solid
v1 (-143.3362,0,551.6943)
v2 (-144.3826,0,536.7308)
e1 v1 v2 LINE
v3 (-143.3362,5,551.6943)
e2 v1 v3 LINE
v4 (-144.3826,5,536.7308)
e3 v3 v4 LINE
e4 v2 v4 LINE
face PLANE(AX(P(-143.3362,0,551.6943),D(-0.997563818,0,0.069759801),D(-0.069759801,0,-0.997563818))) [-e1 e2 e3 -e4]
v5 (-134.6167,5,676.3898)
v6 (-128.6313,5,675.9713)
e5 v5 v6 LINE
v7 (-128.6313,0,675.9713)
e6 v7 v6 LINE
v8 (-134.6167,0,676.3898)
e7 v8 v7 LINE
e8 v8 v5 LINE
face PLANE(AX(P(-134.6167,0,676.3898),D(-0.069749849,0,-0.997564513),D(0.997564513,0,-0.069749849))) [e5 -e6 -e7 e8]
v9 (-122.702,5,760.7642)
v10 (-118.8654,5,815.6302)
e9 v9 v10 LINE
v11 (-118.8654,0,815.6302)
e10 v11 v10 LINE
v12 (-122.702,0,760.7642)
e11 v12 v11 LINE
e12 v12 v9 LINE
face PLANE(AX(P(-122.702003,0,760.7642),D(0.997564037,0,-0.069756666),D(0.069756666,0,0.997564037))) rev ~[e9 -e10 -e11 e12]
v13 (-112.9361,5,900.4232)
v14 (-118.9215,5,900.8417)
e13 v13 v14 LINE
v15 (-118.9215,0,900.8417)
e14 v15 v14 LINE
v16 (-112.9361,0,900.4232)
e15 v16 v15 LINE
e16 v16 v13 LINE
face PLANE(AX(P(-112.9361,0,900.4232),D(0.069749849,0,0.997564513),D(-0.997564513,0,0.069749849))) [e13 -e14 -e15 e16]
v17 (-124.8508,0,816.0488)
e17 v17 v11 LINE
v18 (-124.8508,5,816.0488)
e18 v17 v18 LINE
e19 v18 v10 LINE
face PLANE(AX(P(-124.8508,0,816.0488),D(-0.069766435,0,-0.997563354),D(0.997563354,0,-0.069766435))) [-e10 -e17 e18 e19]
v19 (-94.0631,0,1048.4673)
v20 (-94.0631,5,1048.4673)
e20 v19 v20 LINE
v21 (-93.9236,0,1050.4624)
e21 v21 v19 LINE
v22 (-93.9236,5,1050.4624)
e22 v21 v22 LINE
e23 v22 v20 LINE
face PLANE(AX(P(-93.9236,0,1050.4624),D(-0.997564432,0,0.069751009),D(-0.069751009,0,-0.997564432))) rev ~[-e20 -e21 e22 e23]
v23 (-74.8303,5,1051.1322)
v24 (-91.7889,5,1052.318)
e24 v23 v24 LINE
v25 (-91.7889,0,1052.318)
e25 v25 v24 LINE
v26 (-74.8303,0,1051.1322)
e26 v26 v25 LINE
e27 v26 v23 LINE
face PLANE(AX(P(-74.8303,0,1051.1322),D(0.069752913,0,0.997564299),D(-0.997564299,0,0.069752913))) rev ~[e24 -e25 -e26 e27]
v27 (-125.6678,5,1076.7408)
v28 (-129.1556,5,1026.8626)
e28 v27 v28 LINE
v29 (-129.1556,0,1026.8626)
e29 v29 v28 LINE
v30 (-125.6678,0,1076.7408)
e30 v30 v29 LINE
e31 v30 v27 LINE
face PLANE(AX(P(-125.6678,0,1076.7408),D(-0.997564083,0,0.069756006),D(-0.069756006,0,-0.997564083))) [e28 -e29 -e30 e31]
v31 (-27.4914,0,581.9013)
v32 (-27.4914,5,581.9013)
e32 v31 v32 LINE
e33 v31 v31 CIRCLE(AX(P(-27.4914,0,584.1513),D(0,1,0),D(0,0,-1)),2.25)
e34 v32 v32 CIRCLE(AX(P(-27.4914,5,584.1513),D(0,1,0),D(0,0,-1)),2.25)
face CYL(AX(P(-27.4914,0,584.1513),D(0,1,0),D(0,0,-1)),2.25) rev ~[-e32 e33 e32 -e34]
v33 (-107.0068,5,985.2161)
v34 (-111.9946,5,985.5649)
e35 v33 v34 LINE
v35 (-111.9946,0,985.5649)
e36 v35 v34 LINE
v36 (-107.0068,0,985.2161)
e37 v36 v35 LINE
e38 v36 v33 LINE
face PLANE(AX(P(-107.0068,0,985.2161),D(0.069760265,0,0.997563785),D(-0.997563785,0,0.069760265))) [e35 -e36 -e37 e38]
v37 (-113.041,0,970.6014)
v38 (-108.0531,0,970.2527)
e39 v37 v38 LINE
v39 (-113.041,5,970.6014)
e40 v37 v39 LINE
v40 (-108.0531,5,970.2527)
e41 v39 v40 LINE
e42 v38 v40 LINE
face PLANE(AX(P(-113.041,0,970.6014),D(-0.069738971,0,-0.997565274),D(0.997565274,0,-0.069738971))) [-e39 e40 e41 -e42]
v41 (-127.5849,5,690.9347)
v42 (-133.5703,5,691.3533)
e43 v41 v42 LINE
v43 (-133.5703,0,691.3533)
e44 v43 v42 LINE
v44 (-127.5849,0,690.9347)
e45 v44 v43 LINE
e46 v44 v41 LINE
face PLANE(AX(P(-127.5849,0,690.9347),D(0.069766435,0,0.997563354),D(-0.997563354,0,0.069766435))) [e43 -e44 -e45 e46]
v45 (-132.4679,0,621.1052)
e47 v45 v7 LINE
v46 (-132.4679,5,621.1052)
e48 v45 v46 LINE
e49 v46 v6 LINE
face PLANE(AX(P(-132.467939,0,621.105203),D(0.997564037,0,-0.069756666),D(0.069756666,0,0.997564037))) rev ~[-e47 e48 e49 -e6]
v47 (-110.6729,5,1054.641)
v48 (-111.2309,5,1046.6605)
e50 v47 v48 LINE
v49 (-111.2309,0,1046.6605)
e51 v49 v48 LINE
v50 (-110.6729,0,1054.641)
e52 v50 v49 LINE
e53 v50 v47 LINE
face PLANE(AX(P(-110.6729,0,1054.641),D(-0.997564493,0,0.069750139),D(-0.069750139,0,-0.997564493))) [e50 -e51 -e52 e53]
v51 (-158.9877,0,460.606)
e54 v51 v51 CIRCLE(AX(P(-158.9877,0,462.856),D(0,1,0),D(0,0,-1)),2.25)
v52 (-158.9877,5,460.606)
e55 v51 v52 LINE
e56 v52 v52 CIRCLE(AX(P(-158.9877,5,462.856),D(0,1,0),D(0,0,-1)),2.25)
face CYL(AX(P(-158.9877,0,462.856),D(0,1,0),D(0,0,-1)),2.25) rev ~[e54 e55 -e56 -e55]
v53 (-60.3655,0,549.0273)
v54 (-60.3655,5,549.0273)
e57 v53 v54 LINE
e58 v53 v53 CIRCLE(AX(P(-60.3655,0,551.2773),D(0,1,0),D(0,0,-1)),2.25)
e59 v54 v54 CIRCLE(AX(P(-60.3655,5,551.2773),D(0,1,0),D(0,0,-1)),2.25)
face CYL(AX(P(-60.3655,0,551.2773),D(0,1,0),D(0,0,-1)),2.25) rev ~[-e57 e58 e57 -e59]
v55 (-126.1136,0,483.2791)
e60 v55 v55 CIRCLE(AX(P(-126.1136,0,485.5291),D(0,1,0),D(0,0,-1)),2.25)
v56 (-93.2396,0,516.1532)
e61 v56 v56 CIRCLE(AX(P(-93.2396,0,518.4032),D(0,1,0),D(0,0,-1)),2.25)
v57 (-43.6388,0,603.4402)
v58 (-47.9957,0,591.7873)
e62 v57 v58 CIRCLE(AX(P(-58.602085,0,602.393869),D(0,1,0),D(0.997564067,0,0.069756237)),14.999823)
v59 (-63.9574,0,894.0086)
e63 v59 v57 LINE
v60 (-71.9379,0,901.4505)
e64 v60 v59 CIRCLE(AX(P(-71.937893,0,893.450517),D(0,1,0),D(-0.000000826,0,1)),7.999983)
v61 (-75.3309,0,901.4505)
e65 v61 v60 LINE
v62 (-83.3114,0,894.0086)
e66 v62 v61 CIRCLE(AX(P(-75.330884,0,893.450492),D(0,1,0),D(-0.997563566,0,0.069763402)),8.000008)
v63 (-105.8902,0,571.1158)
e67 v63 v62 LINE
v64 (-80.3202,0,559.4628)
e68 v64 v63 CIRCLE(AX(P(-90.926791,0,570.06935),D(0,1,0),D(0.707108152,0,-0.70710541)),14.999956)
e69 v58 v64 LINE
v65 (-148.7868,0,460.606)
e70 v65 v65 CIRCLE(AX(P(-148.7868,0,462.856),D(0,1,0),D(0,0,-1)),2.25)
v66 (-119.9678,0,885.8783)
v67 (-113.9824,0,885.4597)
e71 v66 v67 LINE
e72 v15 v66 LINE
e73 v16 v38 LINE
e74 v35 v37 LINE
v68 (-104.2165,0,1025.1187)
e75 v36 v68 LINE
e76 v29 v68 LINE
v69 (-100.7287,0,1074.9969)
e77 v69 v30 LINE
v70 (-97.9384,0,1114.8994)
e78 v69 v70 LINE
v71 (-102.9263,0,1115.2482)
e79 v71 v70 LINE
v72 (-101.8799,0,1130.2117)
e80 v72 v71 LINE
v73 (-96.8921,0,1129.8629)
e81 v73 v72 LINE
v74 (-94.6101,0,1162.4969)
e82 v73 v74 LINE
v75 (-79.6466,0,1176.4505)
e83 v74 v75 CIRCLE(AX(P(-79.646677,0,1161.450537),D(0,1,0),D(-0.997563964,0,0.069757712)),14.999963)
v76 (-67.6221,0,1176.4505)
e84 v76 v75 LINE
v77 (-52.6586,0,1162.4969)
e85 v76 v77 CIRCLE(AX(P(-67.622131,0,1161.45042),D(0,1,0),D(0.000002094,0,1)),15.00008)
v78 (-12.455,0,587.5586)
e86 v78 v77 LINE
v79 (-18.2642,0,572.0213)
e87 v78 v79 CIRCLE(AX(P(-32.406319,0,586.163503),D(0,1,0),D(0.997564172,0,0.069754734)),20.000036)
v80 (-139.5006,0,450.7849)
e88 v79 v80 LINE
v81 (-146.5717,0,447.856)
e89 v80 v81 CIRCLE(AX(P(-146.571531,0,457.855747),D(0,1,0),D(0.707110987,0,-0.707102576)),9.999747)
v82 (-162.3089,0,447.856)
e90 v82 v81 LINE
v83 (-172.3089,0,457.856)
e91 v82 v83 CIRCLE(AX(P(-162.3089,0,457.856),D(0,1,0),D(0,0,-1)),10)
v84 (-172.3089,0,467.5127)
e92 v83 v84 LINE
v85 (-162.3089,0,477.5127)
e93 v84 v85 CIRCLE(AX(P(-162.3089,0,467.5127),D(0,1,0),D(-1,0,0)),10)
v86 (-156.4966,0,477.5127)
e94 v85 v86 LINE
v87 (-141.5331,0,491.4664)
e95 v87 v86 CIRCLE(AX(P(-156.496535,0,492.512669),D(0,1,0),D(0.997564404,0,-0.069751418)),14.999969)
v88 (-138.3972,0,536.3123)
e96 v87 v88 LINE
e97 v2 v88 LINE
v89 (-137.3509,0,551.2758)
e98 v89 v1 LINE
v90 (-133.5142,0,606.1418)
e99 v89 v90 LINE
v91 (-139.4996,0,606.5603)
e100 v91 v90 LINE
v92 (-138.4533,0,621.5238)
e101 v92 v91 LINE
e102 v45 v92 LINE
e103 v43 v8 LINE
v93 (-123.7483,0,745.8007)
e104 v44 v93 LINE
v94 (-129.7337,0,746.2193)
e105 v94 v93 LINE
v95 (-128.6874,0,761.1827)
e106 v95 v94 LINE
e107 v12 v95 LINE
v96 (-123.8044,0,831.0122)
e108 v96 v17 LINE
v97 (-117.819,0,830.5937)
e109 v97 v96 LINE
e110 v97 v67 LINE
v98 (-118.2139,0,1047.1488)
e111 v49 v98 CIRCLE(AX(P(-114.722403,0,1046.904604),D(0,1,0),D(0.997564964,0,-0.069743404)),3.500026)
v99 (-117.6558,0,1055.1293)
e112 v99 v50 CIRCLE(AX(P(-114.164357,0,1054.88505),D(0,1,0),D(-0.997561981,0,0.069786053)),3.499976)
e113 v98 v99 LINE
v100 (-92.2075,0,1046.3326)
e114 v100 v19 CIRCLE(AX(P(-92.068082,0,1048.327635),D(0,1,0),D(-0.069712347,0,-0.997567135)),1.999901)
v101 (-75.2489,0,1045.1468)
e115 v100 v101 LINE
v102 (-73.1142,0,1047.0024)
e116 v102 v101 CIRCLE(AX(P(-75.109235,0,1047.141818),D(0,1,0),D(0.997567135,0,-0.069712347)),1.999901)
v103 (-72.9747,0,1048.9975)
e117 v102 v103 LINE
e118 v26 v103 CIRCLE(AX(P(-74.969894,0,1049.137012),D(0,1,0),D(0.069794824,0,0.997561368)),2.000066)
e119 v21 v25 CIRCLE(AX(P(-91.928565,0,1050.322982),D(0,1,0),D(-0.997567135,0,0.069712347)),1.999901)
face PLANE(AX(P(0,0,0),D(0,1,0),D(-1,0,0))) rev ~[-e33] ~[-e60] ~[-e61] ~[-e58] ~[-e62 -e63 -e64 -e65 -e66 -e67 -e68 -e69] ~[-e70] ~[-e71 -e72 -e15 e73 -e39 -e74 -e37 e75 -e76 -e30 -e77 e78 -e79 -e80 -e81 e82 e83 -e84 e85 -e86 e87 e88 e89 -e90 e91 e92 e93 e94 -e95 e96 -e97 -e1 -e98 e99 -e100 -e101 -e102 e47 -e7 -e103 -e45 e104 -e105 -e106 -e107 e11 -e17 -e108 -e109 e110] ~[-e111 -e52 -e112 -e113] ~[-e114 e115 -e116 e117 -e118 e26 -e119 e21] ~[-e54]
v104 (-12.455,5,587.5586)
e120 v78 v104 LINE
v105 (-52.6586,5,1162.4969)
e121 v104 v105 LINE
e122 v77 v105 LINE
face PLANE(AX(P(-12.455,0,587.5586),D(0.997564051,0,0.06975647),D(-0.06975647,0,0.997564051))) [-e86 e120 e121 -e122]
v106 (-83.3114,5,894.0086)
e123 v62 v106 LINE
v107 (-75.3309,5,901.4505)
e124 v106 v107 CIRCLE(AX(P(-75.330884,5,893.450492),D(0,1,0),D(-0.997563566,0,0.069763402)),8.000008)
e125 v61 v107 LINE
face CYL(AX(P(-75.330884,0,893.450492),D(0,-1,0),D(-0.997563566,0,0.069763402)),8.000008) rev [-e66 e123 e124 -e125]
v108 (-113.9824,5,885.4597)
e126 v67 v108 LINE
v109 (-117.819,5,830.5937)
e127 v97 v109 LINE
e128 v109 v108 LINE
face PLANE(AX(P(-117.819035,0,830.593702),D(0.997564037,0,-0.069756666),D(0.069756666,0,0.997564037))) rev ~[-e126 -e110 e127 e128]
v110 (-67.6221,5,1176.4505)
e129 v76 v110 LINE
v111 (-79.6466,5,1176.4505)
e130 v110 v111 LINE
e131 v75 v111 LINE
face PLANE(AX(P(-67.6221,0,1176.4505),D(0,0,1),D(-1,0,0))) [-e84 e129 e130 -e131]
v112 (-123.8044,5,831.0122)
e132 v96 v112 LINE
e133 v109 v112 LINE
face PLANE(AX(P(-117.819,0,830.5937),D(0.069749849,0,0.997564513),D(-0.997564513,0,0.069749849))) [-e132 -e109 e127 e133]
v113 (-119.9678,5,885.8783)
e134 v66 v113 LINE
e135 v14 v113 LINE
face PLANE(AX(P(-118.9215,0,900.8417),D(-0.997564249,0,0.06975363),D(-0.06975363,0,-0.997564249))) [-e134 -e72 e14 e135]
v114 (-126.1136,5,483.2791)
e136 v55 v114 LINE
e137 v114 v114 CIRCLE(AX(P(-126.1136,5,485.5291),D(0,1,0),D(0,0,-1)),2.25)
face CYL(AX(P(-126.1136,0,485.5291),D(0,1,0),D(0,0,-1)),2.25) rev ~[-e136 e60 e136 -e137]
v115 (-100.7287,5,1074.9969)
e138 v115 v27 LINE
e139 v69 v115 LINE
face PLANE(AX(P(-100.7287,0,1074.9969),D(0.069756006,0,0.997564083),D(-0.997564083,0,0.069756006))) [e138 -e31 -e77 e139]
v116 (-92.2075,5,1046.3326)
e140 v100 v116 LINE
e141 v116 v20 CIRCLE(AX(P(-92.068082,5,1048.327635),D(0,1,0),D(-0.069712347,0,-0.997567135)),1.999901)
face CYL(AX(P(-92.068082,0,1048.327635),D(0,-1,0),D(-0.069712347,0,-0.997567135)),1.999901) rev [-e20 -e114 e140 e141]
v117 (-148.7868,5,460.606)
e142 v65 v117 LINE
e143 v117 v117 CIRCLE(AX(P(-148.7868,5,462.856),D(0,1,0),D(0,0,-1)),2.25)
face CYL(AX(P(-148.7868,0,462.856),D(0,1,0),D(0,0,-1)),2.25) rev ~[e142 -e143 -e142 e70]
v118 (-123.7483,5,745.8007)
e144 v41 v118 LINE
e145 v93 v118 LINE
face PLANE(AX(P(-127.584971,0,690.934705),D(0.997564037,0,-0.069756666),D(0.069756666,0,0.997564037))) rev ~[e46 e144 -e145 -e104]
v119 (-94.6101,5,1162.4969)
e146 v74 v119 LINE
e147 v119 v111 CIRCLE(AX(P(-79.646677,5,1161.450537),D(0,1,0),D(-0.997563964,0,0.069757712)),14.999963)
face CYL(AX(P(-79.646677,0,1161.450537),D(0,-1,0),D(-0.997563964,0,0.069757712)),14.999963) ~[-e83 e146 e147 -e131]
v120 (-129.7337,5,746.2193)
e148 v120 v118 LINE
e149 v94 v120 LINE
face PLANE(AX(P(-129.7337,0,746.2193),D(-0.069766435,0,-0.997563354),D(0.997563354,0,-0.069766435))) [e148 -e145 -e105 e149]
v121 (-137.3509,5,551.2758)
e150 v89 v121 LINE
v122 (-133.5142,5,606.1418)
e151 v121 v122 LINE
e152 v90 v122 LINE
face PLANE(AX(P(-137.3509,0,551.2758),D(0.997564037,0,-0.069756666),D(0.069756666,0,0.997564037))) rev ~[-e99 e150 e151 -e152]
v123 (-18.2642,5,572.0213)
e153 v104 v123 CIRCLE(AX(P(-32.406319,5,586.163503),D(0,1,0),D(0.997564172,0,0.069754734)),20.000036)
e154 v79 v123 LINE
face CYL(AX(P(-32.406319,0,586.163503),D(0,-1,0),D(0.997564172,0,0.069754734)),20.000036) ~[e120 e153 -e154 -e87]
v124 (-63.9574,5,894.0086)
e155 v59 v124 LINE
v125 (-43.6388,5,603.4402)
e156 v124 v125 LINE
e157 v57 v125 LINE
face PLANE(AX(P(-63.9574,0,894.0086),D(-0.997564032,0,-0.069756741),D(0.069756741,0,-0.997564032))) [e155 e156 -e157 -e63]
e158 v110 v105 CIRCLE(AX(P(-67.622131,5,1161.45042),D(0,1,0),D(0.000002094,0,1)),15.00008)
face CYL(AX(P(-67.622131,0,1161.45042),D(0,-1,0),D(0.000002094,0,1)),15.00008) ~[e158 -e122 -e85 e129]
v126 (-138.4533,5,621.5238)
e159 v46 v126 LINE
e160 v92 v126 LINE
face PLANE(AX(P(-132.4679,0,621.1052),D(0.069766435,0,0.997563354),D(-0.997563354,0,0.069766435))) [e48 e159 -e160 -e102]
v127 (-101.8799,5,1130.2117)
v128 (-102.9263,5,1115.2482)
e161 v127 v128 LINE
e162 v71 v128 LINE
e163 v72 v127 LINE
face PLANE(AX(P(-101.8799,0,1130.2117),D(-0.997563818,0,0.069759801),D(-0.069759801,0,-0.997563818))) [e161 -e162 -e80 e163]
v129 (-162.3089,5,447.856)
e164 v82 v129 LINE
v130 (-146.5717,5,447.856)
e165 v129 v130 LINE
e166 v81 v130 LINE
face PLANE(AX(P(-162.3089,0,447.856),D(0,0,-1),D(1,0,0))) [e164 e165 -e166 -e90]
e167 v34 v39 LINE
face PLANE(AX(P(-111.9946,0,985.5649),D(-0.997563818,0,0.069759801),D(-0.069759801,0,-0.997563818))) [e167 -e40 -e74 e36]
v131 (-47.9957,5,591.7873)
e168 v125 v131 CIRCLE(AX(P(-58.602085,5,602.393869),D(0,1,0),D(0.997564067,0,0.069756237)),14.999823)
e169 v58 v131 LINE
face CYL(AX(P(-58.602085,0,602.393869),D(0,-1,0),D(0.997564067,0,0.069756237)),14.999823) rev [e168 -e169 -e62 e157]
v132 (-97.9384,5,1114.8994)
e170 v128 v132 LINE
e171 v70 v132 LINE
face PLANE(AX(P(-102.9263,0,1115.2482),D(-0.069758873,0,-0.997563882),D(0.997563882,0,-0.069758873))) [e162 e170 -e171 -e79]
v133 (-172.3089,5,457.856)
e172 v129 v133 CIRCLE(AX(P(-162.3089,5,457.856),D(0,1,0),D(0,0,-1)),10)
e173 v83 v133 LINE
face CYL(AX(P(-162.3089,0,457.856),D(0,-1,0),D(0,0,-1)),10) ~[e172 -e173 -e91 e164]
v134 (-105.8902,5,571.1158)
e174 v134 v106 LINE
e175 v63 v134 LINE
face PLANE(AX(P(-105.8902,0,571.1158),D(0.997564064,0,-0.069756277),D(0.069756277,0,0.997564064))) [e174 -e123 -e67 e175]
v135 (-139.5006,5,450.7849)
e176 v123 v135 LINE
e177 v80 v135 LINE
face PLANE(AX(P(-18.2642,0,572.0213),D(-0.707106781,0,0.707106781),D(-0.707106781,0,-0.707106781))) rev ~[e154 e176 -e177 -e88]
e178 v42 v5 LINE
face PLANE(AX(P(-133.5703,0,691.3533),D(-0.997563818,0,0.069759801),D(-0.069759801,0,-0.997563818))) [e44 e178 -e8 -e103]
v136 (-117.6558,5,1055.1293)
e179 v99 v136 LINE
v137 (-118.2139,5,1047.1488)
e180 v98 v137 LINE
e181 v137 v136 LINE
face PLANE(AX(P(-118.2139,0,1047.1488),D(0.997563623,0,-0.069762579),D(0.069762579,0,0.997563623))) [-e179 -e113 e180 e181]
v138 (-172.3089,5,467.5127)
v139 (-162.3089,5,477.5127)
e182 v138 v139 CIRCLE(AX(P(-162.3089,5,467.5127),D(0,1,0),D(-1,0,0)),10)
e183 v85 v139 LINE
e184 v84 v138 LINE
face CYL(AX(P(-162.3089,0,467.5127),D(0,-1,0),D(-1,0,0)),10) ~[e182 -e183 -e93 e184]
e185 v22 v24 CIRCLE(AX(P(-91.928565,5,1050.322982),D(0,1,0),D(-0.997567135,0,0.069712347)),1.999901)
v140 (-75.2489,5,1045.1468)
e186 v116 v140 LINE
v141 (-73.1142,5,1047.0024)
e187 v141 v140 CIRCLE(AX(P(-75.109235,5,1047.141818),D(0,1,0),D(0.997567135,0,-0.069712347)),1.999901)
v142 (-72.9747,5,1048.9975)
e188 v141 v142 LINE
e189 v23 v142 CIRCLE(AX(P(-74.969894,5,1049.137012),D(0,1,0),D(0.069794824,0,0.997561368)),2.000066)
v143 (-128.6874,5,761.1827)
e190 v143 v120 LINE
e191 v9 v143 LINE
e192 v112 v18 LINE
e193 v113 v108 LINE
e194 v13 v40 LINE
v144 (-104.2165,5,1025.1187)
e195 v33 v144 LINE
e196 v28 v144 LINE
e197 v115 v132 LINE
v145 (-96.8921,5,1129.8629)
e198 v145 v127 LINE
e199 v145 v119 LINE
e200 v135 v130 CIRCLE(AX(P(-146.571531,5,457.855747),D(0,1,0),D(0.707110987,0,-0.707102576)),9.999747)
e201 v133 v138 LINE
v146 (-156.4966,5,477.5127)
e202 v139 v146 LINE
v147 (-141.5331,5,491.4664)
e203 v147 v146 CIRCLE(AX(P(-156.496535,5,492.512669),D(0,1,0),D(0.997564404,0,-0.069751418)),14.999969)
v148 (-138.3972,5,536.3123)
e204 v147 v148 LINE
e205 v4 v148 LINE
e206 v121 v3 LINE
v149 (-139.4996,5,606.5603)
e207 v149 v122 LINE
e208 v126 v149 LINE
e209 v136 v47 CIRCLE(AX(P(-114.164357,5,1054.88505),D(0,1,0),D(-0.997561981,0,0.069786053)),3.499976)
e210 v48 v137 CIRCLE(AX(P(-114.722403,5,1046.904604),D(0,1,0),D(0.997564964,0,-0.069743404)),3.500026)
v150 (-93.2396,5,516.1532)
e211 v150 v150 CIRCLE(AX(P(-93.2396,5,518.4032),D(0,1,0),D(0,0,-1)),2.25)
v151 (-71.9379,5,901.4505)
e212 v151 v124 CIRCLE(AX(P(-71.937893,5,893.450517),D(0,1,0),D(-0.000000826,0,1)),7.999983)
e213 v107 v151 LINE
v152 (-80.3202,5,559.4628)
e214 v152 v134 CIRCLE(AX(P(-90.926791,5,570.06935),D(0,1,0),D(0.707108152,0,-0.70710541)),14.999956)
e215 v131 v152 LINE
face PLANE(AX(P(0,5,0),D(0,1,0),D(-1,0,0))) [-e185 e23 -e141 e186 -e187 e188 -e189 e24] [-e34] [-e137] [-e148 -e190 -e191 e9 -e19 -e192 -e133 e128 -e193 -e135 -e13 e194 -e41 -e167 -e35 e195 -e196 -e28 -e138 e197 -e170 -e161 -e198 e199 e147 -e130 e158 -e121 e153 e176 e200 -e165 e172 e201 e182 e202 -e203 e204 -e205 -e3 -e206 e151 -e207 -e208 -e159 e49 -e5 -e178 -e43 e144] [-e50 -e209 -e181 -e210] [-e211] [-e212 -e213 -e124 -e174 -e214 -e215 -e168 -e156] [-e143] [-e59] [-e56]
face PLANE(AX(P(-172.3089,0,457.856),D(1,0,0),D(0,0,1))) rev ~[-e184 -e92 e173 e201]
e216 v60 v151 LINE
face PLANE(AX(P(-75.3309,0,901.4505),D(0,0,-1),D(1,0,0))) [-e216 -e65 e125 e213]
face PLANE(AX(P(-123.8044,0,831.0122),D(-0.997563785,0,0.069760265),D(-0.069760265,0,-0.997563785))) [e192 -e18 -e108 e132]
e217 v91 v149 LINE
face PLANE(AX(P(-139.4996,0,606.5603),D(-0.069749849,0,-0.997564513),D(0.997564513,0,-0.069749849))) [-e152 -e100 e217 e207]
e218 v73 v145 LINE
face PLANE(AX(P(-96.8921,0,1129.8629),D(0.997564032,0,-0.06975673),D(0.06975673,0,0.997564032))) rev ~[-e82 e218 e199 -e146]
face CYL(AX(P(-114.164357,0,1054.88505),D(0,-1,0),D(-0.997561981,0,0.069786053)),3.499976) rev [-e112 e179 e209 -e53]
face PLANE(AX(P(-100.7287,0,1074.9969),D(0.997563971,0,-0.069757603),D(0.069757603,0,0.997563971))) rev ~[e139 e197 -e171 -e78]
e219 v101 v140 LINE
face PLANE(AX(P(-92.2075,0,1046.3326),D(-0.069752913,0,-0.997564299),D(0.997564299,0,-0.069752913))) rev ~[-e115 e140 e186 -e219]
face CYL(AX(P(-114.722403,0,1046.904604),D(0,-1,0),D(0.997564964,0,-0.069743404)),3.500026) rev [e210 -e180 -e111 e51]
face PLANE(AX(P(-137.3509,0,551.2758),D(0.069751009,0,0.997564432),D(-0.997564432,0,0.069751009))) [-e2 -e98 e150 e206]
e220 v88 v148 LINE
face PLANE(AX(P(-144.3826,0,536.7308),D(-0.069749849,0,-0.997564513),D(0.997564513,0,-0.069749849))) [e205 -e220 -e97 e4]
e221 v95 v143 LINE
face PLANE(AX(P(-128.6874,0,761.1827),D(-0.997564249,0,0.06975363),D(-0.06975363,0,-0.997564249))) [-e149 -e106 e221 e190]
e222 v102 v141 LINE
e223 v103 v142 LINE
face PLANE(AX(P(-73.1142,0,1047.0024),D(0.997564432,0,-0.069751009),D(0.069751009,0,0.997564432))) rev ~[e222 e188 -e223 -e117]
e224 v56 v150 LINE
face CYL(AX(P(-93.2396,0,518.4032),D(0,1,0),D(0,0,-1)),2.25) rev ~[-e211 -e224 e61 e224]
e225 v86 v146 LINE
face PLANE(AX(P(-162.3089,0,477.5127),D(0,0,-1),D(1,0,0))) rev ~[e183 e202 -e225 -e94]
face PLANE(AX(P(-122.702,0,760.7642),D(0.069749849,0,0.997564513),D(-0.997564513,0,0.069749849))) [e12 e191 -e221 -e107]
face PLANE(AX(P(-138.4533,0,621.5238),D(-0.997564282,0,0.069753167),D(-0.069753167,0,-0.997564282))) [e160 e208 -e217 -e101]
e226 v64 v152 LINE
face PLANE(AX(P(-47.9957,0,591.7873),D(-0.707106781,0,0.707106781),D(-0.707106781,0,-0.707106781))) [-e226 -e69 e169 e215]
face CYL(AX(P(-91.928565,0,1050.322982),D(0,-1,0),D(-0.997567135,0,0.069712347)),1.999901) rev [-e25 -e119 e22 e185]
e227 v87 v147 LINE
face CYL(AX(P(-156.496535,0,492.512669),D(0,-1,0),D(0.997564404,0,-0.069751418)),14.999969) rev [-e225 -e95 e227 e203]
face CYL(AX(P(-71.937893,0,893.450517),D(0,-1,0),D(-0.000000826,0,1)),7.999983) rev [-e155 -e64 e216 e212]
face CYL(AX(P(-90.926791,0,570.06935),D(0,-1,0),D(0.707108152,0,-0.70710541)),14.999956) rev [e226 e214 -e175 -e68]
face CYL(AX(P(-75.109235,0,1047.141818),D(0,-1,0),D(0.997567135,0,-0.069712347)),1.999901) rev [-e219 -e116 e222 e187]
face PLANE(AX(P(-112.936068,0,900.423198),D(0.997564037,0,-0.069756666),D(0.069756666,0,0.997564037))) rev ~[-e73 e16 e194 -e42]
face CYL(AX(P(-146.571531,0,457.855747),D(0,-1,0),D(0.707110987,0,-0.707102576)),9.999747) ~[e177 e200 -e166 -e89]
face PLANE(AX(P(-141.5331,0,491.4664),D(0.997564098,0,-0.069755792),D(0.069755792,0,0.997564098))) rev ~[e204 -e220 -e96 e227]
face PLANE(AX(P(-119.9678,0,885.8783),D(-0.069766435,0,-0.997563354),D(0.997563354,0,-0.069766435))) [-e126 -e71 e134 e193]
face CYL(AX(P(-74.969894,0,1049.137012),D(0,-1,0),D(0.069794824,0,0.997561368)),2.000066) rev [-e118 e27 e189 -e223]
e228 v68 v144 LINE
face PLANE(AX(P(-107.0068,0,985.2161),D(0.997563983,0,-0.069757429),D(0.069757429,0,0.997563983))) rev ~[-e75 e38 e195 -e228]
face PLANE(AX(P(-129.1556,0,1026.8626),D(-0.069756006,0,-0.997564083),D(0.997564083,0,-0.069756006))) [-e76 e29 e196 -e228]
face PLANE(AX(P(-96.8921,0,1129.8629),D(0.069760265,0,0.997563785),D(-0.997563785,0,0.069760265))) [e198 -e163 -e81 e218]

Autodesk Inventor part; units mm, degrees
ref_plane "YZ Plane" through (0, 0, 0) normal (1, 0, 0) x (0, 1, 0)
ref_plane "XZ Plane" through (0, 0, 0) normal (0, 1, 0) x (-1, 0, 0)
ref_plane "XY Plane" through (0, 0, 0) normal (0, 0, 1) x (1, 0, 0)
sketch "Szkic1" plane through (0, 0, 0) normal (0, 1, 0) x (-1, 0, 0)
  line L0 (-19, 622) -> (11, 622) construction
  line L1 (11, 622) -> (147, 486) construction
  line L2 (147, 486) -> (176.8016, 486) construction
  line L3 (176.8016, 486) -> (176.8016, 461) construction
  line L4 (-19, 622) -> (-19, 609.2855) construction
  line L5 (-19, 609.2855) -> (176.8016, 413.4839) construction
  line L6 (176.8016, 413.4839) -> (176.8016, 461) construction
  line L7 (176.8016, 486) -> (176.8016, 1189) construction
  line L8 (146.8016, 1189) -> (146.8016, 533) construction
  line L9 (246.8016, 495.9837) -> (246.8016, 1189) construction
  line L10 (-47, 922) -> (309, 922) construction
  line L11 (-42, 1147) -> (293, 1147) construction
  line L12 (12.455, 587.5586) -> (52.6586, 1162.4969)
  line L13 (67.6221, 1176.4505) -> (79.6466, 1176.4505)
  line L14 (147, 486) -> (147, 443.2855) construction
  line L15 (147, 486) -> (142.6159, 490.3841) construction
  line L16 (142.6159, 490.3841) -> (121.2587, 469.0268) construction
  line L17 (18.2642, 572.0213) -> (139.5006, 450.7849)
  line L18 (-99.7145, 690) -> (195.2855, 395) construction
  line L19 (172.3089, 417.9767) -> (172.3089, 447.856) construction
  line L20 (176.8016, 486) -> (315.5485, 347.2531) construction
  line L21 (141.5331, 491.4664) -> (138.3972, 536.3123)
  line L22 (162.3089, 477.5127) -> (156.4966, 477.5127)
  line L23 (162.3089, 447.856) -> (146.5717, 447.856)
  arc A0 (12.455, 587.5586) -> (18.2642, 572.0213) centre (32.4063, 586.1635) ccw
  line L24 (142.4296, 447.856) -> (172.3089, 417.9767) construction
  line L25 (172.3089, 457.856) -> (172.3089, 467.5127)
  arc A1 (141.5331, 491.4664) -> (156.4966, 477.5127) centre (156.4966, 492.5127) ccw
  arc A2 (172.3089, 467.5127) -> (162.3089, 477.5127) centre (162.3089, 467.5127) ccw
  arc A3 (162.3089, 447.856) -> (172.3089, 457.856) centre (162.3089, 457.856) ccw
  arc A4 (139.5006, 450.7849) -> (146.5717, 447.856) centre (146.5717, 457.856) ccw
  arc A5 (94.6101, 1162.4969) -> (79.6466, 1176.4505) centre (79.6466, 1161.4505) ccw
  arc A6 (67.6221, 1176.4505) -> (52.6586, 1162.4969) centre (67.6221, 1161.4505) ccw
  line L26 (141.5331, 491.4664) -> (144.7446, 445.541) construction
  line L27 (141.5331, 491.4664) -> (141.5331, 448.7524) construction
  line L28 (-28.6025, 640.2452) -> (163.5033, 448.1395) construction
  line L29 (47.7855, 542.5) -> (47.7855, 585.2145) construction
  line L30 (-4, 664.8499) -> (-4, 551.9978) construction
  line L31 (11, 622) -> (11, 579.2855) construction
  line L32 (11, 579.2855) -> (15.3841, 574.9015) construction
  line L33 (15.3841, 574.9015) -> (36.7413, 596.2587) construction
  line L34 (161.8016, 495.9837) -> (161.8016, 402) construction
  line L35 (104.2165, 1025.1187) -> (100.7287, 1074.9969) construction
  line L36 (100.7287, 1074.9969) -> (125.6678, 1076.7408)
  line L37 (125.6678, 1076.7408) -> (129.1556, 1026.8626)
  line L38 (129.1556, 1026.8626) -> (104.2165, 1025.1187)
  line L39 (100.7287, 1074.9969) -> (97.9384, 1114.8994)
  line L40 (104.2165, 1025.1187) -> (100.7287, 1074.9969) construction
  line L41 (73.1142, 1047.0024) -> (72.9747, 1048.9975)
  line L42 (74.8303, 1051.1322) -> (91.7889, 1052.318)
  line L43 (93.9236, 1050.4624) -> (94.0631, 1048.4673)
  line L44 (92.2075, 1046.3326) -> (75.2489, 1045.1468)
  line L45 (93.9933, 1049.4649) -> (102.4726, 1050.0578) construction
  line L46 (102.4726, 1050.0578) -> (114.4434, 1050.8949) construction
  arc A7 (74.8303, 1051.1322) -> (72.9747, 1048.9975) centre (74.9699, 1049.137) ccw
  arc A8 (73.1142, 1047.0024) -> (75.2489, 1045.1468) centre (75.1094, 1047.1419) ccw
  arc A9 (93.9236, 1050.4624) -> (91.7889, 1052.318) centre (91.9284, 1050.3229) ccw
  arc A10 (92.2075, 1046.3326) -> (94.0631, 1048.4673) centre (92.068, 1048.3278) ccw
  line L47 (116.505, 1021.4131) -> (111.1905, 1097.4131) construction
  line L48 (114.9666, 1043.4131) -> (113.9202, 1058.3766) construction
  line L49 (118.2139, 1047.1488) -> (117.6558, 1055.1293)
  line L50 (110.6729, 1054.641) -> (111.2309, 1046.6605)
  arc A11 (111.2309, 1046.6605) -> (118.2139, 1047.1488) centre (114.7224, 1046.9046) ccw
  arc A12 (117.6558, 1055.1293) -> (110.6729, 1054.641) centre (114.1644, 1054.8851) ccw
  line L51 (47.9957, 591.7873) -> (80.3202, 559.4628)
  line L52 (105.8902, 571.1158) -> (83.3114, 894.0086)
  line L53 (75.3309, 901.4505) -> (71.9379, 901.4505)
  line L54 (63.9574, 894.0086) -> (43.6388, 603.4402)
  arc A13 (43.6388, 603.4402) -> (47.9957, 591.7873) centre (58.6023, 602.3939) ccw
  arc A14 (80.3202, 559.4628) -> (105.8902, 571.1158) centre (90.9268, 570.0694) ccw
  arc A15 (83.3114, 894.0086) -> (75.3309, 901.4505) centre (75.3309, 893.4505) ccw
  arc A16 (71.9379, 901.4505) -> (63.9574, 894.0086) centre (71.9379, 893.4505) ccw
  line L55 (97.9384, 1114.8994) -> (96.8921, 1129.8629) construction
  line L56 (96.8921, 1129.8629) -> (101.8799, 1130.2117)
  line L57 (101.8799, 1130.2117) -> (102.9263, 1115.2482)
  line L58 (102.9263, 1115.2482) -> (97.9384, 1114.8994)
  line L59 (97.9384, 1114.8994) -> (112.9384, 1114.8994) construction
  line L60 (97.9384, 1114.8994) -> (96.8921, 1129.8629) construction
  line L61 (96.8921, 1129.8629) -> (94.6101, 1162.4969)
  line L62 (107.0068, 985.2161) -> (111.9946, 985.5649)
  line L63 (111.9946, 985.5649) -> (113.041, 970.6014)
  line L64 (113.041, 970.6014) -> (108.0531, 970.2527)
  line L65 (107.0068, 985.2161) -> (104.2165, 1025.1187)
  line L66 (108.0531, 970.2527) -> (107.0068, 985.2161) construction
  line L67 (138.3972, 536.3123) -> (137.3509, 551.2758)
  line L68 (137.3509, 551.2758) -> (143.3362, 551.6943)
  line L69 (143.3362, 551.6943) -> (144.3826, 536.7308)
  line L70 (144.3826, 536.7308) -> (138.3972, 536.3123)
  line L71 (138.3972, 536.3123) -> (153.3972, 536.3123) construction
  line L72 (131.9463, 1052.1188) -> (62.9796, 1047.2962) construction
  line L73 (137.3509, 551.2758) -> (108.0531, 970.2527)
  line L74 (138.3972, 536.3123) -> (137.3509, 551.2758) construction
  line L75 (138.4533, 621.5238) -> (139.4996, 606.5603)
  line L76 (139.4996, 606.5603) -> (133.5142, 606.1418)
  line L77 (132.4679, 621.1052) -> (138.4533, 621.5238)
  line L78 (133.5142, 606.1418) -> (132.4679, 621.1052)
  line L79 (133.5703, 691.3533) -> (134.6167, 676.3898)
  line L80 (134.6167, 676.3898) -> (128.6313, 675.9713)
  line L81 (127.5849, 690.9347) -> (133.5703, 691.3533)
  line L82 (128.6313, 675.9713) -> (127.5849, 690.9347)
  line L83 (128.6874, 761.1827) -> (129.7337, 746.2193)
  line L84 (129.7337, 746.2193) -> (123.7483, 745.8007)
  line L85 (122.702, 760.7642) -> (128.6874, 761.1827)
  line L86 (123.7483, 745.8007) -> (122.702, 760.7642)
  line L87 (123.8044, 831.0122) -> (124.8508, 816.0488)
  line L88 (124.8508, 816.0488) -> (118.8654, 815.6302)
  line L89 (117.819, 830.5937) -> (123.8044, 831.0122)
  line L90 (118.8654, 815.6302) -> (117.819, 830.5937)
  line L91 (118.9215, 900.8417) -> (119.9678, 885.8783)
  line L92 (119.9678, 885.8783) -> (113.9824, 885.4597)
  line L93 (112.9361, 900.4232) -> (118.9215, 900.8417)
  line L94 (113.9824, 885.4597) -> (112.9361, 900.4232)
  point P0 (0, 0)
  point P1 (11.8192, 578.4663)
  point P2 (53.6344, 1176.4505)
  point P3 (93.6344, 1176.4505)
  point P4 (172.3089, 477.5127)
  point P5 (142.5089, 477.5127)
  point P6 (47.7855, 563.8572)
  point P7 (27.4914, 584.1513)
  point P8 (148.7868, 462.856)
  point P9 (158.9877, 462.856)
  point P10 (93.2396, 518.4032)
  point P11 (60.3655, 551.2773)
  point P12 (126.1136, 485.5291)
  point P13 (72.8352, 1050.9927)
  point P14 (93.7841, 1052.4575)
  point P15 (118.4866, 1051.1776)
  dimension "d0" = 30
  dimension "d1" = 100
  dimension "d2" = 225
  dimension "d3" = 300
  dimension "d4" = 40
  dimension "d5" = 6.2
  dimension "d14" = 94
  dimension "d16" = 94
  dimension "d18" = 29.8
  dimension "d22" = 700.6445
  dimension "d23" = 20
  dimension "d24" = 15
  dimension "d25" = 10
  dimension "d26" = 10
  dimension "d28" = 15.7372
  dimension "d29" = 15
  dimension "d30" = 42.714
  dimension "d31" = 42.7145
  dimension "d32" = 21.3572
  dimension "d33" = 30
  dimension "d34" = 15
  dimension "d35" = 6.2
  dimension "d39" = 15.0364
  dimension "d40" = 15
  dimension "d43" = 23.5221
  dimension "d45" = 13.3212
  dimension "d46" = 15
  dimension "d47" = 131.4963
  dimension "d48" = 65.7481
  dimension "d49" = 32.8741
  dimension "d50" = 32.8741
  dimension "d51" = 50
  dimension "d52" = 25
  dimension "d53" = 87.5
  dimension "d56" = 21
  dimension "d57" = 8.5
  dimension "d58" = 12
  dimension "d60" = 2
  dimension "d62" = 6
  dimension "d63" = 15
  dimension "d64" = 7
  dimension "d65" = 25
  dimension "d66" = 275
  dimension "d67" = 30
  dimension "d68" = 30
  dimension "d69" = 35
  dimension "d70" = 15
  dimension "d71" = 8
  dimension "d72" = 15
  dimension "d73" = 94
  dimension "d74" = 5
  dimension "d75" = 40
  dimension "d78" = 145
  dimension "d83" = 15
  dimension "d84" = 94
  dimension "d85" = 6
  dimension "d86" = 3
  dimension "d87" = 16.014
  dimension "d88" = 25
  dimension "d99" = 70
  dimension "d113" = 420
extrude "Wyciągnięcie proste1" add sketch "Szkic1" along normal blind 5
hole "Otwór1" at (-27.4914, 0, 584.1513) at (-148.7868, 0, 462.856) at (-158.9877, 0, 462.856) at (-93.2396, 0, 518.4032) at (-60.3655, 0, 551.2773) at (-126.1136, 0, 485.5291) direction (0, 1, 0) diameter 4.5 depth 8 tip angle 118 clearance for "Śruba ze łbem płaskim obrobiona" size "M4" standard "ANSI Profil metryczny M"
equation "\"d16\" = d14"
properties part number "nowy_bok"
